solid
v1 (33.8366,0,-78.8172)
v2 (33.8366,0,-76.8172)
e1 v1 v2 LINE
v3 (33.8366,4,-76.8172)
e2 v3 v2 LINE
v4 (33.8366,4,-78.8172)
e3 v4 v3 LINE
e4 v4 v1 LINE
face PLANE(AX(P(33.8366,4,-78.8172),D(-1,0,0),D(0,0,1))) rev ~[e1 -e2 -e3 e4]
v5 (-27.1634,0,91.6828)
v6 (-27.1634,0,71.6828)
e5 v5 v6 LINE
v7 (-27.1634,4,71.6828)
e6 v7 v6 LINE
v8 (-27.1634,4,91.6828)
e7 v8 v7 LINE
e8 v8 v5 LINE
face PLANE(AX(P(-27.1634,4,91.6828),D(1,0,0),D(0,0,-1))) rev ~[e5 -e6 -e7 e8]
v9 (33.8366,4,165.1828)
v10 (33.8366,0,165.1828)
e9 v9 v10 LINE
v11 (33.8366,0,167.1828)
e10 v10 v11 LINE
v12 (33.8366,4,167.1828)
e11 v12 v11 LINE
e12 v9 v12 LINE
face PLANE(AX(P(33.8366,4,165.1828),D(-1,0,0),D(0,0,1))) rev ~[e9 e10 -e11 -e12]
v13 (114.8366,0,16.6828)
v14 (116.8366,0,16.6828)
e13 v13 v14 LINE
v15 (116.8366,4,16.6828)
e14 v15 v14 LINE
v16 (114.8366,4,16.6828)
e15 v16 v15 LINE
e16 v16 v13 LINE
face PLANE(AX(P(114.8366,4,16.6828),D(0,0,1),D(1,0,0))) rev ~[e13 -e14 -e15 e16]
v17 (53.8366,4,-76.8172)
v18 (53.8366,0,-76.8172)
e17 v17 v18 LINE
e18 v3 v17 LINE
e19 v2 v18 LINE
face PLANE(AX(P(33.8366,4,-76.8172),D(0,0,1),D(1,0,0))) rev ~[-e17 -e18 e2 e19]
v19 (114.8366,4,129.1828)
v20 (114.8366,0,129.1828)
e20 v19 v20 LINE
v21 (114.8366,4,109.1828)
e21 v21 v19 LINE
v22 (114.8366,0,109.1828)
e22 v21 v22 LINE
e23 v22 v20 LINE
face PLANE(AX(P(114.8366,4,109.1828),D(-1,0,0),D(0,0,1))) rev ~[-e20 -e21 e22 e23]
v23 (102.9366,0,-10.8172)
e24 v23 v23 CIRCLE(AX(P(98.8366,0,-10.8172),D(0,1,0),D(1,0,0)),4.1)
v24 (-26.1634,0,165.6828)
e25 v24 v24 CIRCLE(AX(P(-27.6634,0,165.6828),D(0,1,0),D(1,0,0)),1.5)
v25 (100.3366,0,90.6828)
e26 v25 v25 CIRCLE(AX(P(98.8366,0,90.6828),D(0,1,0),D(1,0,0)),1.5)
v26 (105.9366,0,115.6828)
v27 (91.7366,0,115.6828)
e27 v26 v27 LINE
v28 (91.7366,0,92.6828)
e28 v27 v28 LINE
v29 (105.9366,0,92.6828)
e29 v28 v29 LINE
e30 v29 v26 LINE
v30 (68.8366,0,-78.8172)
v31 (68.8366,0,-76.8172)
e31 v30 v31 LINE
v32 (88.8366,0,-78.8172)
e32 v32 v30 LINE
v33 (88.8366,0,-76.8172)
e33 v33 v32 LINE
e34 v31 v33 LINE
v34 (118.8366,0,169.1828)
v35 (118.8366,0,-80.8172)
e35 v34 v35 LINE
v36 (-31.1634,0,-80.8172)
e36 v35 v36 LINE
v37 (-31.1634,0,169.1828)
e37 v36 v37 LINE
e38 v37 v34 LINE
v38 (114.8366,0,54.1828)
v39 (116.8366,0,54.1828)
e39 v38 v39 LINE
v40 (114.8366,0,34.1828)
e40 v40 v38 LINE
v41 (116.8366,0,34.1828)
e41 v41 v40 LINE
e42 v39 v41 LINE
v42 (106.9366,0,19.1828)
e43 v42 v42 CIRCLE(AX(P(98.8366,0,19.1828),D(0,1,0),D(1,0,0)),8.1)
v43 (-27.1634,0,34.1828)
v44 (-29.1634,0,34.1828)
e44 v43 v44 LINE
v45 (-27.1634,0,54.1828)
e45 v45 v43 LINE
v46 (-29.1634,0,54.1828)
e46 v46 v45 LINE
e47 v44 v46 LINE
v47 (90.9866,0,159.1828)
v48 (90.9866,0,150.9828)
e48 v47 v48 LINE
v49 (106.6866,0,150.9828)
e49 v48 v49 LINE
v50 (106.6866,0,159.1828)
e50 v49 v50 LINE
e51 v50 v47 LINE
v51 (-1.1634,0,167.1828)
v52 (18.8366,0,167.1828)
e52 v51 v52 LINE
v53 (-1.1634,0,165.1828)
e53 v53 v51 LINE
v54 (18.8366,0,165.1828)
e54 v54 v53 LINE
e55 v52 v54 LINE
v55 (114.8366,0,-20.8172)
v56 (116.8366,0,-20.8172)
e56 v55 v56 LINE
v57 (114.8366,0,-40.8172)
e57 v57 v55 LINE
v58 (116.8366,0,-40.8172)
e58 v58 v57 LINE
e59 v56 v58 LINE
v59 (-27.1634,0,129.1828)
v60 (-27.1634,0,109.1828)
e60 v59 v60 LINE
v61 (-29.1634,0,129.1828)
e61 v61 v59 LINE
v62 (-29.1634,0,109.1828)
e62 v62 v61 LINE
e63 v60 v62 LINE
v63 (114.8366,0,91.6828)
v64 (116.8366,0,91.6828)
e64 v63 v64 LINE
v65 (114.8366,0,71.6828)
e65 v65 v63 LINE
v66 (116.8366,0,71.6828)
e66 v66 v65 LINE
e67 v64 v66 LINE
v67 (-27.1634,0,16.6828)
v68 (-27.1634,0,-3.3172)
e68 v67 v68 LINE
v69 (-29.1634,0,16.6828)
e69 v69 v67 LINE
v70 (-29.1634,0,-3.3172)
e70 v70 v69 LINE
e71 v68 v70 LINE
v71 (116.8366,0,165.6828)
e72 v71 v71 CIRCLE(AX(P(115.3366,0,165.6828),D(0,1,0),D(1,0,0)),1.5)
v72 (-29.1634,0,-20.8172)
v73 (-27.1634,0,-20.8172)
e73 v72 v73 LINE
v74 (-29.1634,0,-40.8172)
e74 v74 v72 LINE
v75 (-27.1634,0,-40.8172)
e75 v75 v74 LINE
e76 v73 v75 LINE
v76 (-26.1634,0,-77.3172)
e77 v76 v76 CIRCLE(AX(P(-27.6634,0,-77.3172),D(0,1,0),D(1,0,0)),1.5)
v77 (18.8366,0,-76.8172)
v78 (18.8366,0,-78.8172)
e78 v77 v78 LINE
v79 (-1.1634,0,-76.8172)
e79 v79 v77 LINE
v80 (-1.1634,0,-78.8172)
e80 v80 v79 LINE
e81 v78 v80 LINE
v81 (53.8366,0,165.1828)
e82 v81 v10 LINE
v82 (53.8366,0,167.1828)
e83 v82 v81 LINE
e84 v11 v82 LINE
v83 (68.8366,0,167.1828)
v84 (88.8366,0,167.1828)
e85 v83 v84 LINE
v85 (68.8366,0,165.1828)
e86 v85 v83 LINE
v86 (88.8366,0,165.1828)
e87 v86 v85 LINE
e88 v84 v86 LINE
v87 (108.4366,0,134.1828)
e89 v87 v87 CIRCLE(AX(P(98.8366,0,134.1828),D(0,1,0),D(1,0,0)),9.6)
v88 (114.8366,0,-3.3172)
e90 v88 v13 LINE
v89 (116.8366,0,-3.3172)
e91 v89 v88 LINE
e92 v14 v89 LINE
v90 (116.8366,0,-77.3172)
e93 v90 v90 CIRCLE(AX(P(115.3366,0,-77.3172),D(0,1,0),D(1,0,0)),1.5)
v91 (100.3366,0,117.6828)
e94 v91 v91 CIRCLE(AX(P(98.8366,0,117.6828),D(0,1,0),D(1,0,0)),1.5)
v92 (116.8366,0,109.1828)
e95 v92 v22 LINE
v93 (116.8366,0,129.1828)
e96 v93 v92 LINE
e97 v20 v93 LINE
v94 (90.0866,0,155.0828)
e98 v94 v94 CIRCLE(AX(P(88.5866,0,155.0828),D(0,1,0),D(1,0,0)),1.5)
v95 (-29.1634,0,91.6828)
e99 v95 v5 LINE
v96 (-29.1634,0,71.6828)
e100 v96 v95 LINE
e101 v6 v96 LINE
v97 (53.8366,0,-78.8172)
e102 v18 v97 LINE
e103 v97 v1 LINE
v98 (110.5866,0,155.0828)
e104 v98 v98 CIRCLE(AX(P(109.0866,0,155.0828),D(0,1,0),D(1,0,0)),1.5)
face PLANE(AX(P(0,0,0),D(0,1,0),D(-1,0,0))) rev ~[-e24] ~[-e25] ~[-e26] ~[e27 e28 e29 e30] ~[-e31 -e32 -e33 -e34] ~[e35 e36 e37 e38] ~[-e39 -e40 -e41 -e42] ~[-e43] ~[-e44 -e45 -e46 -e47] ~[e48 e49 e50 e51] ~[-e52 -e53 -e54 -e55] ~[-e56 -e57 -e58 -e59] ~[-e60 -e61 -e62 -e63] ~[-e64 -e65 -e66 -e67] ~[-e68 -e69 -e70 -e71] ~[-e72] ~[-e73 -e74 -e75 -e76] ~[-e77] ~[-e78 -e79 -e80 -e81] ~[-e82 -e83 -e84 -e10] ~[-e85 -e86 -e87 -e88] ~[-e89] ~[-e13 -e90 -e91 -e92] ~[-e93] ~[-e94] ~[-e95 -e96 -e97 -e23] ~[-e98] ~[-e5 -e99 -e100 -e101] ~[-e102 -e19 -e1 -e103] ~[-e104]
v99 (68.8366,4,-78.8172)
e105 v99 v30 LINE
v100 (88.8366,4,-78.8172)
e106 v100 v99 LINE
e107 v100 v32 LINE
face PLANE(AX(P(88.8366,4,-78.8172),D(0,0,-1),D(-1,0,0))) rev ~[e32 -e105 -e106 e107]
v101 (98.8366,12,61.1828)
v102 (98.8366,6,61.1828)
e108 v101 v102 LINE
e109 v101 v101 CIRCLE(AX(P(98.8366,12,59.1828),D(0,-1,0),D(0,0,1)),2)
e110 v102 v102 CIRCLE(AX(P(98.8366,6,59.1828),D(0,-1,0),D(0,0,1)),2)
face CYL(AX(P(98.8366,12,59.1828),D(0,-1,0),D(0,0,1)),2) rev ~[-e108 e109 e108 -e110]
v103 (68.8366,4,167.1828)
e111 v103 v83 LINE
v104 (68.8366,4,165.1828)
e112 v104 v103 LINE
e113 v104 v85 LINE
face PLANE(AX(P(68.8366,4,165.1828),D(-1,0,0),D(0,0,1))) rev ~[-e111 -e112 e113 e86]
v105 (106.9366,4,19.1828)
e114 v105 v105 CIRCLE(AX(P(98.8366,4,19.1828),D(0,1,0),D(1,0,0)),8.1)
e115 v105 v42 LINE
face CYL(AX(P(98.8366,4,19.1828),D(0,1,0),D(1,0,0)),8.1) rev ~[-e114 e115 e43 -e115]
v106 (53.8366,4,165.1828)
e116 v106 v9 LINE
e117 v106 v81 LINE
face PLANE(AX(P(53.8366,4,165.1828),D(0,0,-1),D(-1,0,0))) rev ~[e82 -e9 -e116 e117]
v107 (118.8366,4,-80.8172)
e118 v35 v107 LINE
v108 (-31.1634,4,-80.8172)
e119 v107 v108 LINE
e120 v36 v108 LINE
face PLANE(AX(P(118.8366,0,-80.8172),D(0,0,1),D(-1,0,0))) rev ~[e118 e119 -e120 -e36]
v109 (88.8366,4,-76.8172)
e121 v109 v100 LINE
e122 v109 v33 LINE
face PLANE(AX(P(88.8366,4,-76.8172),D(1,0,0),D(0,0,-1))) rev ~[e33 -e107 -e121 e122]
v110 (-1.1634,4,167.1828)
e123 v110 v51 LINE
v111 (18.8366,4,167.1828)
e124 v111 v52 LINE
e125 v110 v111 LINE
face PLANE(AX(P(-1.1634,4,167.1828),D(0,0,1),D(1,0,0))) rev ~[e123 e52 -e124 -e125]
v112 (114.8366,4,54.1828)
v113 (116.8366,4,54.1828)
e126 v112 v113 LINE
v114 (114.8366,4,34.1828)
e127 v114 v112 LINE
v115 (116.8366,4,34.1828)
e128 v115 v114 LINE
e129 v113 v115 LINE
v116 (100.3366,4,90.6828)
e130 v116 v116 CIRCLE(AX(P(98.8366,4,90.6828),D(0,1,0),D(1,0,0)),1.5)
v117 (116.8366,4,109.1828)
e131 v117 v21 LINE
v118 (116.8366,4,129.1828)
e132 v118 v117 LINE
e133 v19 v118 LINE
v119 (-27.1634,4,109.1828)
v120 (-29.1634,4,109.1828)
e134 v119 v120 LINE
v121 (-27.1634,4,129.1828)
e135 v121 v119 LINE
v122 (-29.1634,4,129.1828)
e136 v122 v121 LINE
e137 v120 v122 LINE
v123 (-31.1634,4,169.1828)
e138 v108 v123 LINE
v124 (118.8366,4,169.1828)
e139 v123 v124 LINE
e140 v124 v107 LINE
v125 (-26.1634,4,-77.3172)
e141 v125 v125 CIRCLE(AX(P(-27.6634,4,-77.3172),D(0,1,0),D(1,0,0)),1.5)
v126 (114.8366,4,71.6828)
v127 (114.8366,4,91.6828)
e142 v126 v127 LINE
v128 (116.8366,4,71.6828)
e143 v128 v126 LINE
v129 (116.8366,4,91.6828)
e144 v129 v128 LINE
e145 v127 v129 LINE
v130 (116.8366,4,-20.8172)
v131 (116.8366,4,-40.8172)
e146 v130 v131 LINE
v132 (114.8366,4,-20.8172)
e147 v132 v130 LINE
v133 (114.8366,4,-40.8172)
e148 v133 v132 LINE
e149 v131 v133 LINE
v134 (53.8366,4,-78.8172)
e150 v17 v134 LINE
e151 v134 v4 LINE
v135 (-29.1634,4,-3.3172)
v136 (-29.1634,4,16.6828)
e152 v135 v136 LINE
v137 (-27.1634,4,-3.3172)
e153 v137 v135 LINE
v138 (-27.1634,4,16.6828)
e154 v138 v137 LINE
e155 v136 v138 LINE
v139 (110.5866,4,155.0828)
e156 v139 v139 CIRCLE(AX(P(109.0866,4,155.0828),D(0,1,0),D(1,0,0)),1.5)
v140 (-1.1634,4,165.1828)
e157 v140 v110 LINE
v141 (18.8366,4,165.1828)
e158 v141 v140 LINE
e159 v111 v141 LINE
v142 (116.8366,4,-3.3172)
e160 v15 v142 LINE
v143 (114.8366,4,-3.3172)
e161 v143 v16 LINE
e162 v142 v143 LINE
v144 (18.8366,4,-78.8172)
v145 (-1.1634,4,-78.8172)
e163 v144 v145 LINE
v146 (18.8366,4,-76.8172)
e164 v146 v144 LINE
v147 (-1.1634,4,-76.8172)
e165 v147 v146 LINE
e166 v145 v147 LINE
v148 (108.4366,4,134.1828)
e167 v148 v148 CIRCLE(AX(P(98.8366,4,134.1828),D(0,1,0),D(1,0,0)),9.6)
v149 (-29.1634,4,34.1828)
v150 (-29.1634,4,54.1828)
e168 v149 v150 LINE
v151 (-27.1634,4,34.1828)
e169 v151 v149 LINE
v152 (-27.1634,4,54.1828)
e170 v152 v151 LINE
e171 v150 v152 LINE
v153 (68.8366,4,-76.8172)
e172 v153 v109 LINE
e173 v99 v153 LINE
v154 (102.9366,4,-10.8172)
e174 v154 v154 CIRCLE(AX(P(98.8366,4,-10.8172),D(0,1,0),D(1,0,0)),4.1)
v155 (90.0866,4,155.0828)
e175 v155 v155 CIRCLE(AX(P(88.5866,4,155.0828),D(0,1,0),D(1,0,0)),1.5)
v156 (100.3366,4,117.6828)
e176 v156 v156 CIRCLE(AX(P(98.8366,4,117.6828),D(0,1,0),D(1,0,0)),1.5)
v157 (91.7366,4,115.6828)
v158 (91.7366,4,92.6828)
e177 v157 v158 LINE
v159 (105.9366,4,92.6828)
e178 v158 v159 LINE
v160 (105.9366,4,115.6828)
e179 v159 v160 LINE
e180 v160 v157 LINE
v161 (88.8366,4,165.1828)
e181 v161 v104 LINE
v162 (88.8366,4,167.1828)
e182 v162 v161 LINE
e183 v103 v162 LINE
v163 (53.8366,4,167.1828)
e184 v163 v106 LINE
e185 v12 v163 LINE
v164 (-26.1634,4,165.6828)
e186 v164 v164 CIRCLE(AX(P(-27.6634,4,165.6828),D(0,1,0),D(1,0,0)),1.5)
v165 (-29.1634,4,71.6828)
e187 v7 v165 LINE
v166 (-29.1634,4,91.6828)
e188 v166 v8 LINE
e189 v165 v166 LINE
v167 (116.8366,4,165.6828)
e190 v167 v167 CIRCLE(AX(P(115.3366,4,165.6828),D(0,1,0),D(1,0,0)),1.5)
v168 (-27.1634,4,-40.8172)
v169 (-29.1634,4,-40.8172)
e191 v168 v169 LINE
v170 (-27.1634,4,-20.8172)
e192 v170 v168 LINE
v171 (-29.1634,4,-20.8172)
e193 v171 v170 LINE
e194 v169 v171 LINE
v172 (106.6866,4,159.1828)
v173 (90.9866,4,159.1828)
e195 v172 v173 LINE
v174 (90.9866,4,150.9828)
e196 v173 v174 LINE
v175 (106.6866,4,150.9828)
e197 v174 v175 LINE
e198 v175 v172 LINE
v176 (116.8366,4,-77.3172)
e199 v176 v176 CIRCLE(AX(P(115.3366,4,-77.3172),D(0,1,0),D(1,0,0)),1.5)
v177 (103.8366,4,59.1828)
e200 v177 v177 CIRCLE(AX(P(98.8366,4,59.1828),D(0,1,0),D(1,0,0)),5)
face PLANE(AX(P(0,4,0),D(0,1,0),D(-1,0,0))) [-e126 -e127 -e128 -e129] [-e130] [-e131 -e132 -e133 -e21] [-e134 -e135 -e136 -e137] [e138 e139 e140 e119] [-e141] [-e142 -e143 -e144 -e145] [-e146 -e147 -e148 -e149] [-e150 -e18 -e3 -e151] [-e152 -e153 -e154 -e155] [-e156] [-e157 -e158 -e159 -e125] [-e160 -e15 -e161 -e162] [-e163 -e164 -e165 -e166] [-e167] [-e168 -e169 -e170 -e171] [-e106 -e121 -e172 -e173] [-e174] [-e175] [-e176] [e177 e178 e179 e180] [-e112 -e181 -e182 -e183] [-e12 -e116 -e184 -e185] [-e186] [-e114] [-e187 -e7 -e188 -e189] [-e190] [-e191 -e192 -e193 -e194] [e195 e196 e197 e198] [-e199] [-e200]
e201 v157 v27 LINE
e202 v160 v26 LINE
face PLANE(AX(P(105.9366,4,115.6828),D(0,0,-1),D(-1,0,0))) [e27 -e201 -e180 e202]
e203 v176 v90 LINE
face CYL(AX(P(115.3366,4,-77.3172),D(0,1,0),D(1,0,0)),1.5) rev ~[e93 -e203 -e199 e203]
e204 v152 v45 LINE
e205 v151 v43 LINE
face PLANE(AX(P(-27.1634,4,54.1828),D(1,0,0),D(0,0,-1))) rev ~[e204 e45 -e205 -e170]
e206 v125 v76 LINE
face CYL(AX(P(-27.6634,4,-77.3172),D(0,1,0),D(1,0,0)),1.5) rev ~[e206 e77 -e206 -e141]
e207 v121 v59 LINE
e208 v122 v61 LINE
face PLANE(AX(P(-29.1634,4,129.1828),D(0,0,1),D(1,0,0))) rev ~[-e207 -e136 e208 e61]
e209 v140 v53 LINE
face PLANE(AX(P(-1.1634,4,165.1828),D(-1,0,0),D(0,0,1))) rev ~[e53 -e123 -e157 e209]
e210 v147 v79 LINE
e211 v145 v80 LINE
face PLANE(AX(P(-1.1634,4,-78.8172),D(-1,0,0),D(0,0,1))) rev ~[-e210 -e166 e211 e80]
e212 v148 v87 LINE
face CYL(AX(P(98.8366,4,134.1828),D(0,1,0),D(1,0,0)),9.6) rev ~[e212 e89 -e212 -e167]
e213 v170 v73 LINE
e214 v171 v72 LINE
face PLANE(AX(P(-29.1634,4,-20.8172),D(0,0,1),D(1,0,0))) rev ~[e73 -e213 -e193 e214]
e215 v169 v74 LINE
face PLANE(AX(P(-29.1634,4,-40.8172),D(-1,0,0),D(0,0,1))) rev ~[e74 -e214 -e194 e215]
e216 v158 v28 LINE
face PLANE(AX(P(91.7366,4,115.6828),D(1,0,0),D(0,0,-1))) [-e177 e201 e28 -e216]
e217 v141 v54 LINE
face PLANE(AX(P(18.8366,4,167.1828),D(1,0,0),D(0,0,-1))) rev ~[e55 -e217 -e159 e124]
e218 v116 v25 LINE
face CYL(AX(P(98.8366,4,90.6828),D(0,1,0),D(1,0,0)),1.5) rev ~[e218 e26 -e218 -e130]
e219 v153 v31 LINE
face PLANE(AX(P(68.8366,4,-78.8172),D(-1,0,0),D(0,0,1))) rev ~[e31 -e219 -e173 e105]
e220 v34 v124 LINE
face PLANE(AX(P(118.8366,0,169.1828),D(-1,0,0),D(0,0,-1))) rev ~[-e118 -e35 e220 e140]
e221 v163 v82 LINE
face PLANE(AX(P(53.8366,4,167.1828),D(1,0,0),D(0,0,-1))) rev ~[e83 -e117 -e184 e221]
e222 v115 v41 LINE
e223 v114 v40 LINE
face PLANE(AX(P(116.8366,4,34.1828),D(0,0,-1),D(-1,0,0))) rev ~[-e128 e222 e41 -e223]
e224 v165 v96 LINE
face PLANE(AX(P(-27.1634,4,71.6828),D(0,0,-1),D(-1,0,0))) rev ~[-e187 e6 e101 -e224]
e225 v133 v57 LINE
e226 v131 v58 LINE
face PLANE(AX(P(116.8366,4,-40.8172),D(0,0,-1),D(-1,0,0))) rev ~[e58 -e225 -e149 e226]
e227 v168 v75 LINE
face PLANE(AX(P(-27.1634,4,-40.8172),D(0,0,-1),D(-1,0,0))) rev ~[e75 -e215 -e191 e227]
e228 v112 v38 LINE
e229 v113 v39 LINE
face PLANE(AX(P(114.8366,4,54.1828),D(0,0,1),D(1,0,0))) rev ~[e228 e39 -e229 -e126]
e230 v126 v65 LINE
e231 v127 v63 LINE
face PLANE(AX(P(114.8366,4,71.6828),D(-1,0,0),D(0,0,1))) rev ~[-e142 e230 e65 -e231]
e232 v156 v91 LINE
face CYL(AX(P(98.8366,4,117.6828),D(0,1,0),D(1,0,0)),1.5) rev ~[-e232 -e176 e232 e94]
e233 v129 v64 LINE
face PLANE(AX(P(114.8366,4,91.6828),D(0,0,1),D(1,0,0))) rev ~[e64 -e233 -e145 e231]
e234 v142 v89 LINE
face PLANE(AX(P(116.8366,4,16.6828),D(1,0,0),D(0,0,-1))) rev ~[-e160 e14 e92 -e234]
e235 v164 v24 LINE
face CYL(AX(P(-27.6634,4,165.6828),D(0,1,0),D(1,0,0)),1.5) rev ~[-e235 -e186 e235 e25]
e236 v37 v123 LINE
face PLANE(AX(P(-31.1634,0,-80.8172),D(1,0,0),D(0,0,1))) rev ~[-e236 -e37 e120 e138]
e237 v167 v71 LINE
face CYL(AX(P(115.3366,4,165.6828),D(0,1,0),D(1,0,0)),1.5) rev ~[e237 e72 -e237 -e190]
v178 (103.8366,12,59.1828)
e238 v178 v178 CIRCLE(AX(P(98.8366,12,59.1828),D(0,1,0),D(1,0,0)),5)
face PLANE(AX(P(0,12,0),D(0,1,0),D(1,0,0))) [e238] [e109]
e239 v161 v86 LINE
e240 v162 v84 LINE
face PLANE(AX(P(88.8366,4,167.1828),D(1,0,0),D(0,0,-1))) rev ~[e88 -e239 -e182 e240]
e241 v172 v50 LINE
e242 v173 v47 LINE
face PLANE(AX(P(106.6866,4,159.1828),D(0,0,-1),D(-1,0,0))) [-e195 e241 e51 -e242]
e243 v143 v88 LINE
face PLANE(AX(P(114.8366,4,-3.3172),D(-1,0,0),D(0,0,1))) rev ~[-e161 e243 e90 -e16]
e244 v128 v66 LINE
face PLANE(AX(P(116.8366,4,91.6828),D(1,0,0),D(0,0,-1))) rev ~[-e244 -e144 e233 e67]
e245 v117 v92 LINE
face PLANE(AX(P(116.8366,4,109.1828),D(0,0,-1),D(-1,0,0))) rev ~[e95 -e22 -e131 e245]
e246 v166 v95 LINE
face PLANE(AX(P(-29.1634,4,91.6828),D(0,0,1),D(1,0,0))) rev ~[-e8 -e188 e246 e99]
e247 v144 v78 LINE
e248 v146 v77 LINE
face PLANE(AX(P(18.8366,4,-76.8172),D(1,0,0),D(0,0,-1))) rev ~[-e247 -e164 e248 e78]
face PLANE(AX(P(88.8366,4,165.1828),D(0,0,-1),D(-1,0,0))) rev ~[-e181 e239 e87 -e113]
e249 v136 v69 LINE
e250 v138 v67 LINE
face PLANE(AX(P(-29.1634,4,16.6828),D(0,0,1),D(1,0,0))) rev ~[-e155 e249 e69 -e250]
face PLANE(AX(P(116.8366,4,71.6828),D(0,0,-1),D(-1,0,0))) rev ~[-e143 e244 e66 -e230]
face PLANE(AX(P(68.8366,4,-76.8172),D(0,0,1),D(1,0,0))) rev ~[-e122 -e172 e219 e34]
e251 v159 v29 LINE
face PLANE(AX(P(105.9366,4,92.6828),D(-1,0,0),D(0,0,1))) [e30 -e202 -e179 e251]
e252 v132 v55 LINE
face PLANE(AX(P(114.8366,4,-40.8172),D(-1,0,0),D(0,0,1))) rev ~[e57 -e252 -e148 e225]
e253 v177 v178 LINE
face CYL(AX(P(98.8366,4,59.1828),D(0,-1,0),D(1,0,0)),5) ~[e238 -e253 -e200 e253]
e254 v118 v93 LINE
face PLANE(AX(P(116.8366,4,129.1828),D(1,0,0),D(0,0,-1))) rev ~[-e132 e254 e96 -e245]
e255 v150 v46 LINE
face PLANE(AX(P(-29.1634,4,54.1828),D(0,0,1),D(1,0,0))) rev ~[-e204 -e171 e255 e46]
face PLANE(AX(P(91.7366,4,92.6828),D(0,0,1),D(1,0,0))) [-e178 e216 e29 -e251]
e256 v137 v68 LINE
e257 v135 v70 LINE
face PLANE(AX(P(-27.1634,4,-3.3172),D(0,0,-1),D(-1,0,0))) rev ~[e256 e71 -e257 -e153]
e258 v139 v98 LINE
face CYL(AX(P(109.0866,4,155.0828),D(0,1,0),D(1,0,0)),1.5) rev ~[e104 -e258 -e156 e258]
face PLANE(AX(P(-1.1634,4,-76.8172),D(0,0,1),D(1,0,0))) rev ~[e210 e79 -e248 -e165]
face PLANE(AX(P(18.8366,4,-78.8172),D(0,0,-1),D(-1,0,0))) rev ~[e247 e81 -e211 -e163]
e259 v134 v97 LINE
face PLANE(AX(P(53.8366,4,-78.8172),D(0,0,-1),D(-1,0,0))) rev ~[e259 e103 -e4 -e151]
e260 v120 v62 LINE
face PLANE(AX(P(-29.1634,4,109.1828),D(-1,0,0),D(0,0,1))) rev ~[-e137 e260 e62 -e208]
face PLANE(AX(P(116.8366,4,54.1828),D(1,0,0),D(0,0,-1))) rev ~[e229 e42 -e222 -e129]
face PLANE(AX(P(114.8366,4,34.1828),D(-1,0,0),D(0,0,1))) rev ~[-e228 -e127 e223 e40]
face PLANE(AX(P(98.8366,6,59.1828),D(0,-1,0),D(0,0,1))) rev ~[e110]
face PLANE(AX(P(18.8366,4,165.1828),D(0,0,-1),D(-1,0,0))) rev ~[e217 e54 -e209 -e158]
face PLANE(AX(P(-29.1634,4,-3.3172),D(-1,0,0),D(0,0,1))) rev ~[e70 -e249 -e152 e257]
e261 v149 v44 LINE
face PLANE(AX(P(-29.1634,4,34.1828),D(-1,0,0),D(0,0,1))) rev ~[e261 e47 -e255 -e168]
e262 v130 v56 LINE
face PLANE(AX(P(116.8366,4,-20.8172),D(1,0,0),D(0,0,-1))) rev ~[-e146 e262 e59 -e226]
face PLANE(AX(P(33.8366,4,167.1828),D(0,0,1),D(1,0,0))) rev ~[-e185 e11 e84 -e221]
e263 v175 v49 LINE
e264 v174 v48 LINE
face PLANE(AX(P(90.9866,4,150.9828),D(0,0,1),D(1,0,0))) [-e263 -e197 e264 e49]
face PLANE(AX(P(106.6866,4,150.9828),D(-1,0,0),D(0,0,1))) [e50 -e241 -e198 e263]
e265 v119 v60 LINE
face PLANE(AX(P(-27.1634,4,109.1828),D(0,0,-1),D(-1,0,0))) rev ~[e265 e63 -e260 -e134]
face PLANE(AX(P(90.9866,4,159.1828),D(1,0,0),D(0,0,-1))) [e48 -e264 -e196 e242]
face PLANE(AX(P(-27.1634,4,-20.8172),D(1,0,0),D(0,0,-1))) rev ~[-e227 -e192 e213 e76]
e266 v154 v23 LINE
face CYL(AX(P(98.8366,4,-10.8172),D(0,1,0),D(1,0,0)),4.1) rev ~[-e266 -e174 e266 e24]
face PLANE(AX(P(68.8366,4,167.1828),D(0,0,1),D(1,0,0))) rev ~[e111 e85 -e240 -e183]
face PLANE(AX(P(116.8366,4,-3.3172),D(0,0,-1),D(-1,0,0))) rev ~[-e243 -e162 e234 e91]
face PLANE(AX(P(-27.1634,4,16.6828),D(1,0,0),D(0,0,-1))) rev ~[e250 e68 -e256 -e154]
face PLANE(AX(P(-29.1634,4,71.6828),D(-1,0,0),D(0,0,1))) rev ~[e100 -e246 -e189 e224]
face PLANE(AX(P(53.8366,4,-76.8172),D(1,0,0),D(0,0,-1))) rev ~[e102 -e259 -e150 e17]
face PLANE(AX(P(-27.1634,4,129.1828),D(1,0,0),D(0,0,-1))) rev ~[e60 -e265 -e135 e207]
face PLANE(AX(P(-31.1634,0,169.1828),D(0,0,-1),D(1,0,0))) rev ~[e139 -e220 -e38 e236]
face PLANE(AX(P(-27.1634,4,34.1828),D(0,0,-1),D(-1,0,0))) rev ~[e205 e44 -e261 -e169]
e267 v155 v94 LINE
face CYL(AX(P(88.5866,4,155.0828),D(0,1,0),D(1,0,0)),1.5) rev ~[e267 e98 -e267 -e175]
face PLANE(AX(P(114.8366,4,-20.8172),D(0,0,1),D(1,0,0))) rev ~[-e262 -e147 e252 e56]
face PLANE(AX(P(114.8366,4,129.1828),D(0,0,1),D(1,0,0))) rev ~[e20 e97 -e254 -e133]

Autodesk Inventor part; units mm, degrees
ref_plane "YZ Plane" through (0, 0, 0) normal (1, 0, 0) x (0, 1, 0)
ref_plane "XZ Plane" through (0, 0, 0) normal (0, 1, 0) x (-1, 0, 0)
ref_plane "XY Plane" through (0, 0, 0) normal (0, 0, 1) x (1, 0, 0)
sketch "Sketch1" plane through (0, 0, 0) normal (0, 1, 0) x (-1, 0, 0)
  line L0 (31.1634, 169.1828) -> (-118.8366, 169.1828)
  line L1 (-118.8366, 169.1828) -> (-118.8366, -80.8172)
  line L2 (-118.8366, -80.8172) -> (31.1634, -80.8172)
  line L3 (31.1634, -80.8172) -> (31.1634, 169.1828)
  point P0 (0, 0)
  dimension "d0" = 250
  dimension "d1" = 150
extrude "Extrusion1" add sketch "Sketch1" along normal blind 4
fillet "Fillet1" [suppressed]
sketch "Sketch2" plane through (0, 4, 0) normal (0, 1, 0) x (1, 0, 0)
  line L0 (-31.1634, 80.8172) -> (-31.1634, -169.1828) projected
  line L1 (-31.1634, -169.1828) -> (118.8366, -169.1828) projected
  line L2 (118.8366, -169.1828) -> (118.8366, 80.8172) projected
  line L3 (118.8366, 80.8172) -> (-31.1634, 80.8172) projected
  arc A0 (-21.1634, 76.8172) -> (-27.1634, 70.8172) centre (-21.1634, 70.8172) ccw
  arc A1 (114.8366, 70.8172) -> (108.8366, 76.8172) centre (108.8366, 70.8172) ccw
  arc A2 (108.8366, -165.1828) -> (114.8366, -159.1828) centre (108.8366, -159.1828) ccw
  arc A3 (-27.1634, -159.1828) -> (-21.1634, -165.1828) centre (-21.1634, -159.1828) ccw
  line L4 (108.8366, -165.1828) -> (98.8366, -165.1828)
  line L5 (-11.1634, -165.1828) -> (-21.1634, -165.1828)
  line L6 (-27.1634, -159.1828) -> (-27.1634, -149.1828)
  line L7 (-27.1634, 60.8172) -> (-27.1634, 70.8172)
  line L8 (-21.1634, 76.8172) -> (-11.1634, 76.8172)
  line L9 (98.8366, 76.8172) -> (108.8366, 76.8172)
  line L10 (114.8366, 70.8172) -> (114.8366, 60.8172)
  line L11 (114.8366, -149.1828) -> (114.8366, -159.1828)
  line L12 (-11.1634, -169.1828) -> (-11.1634, -165.1828)
  line L13 (-11.1634, 76.8172) -> (-11.1634, 80.8172)
  line L14 (-31.1634, 60.8172) -> (-27.1634, 60.8172)
  line L15 (114.8366, 60.8172) -> (118.8366, 60.8172)
  line L16 (98.8366, -169.1828) -> (98.8366, -165.1828)
  line L17 (98.8366, 76.8172) -> (98.8366, 80.8172)
  line L18 (-31.1634, -149.1828) -> (-27.1634, -149.1828)
  line L19 (114.8366, -149.1828) -> (118.8366, -149.1828)
  point P0 (0, 0)
  point P1 (114.8366, -154.1828)
  dimension "d12" = 4
  dimension "d13" = 20
  dimension "d14" = 4
extrude "Extrusion2" [suppressed]
sketch "Sketch3" plane through (0, 4, 0) normal (0, 1, 0) x (1, 0, 0)
  line L0 (-29.1634, -129.1828) -> (-27.1634, -129.1828)
  line L1 (-27.1634, -129.1828) -> (-27.1634, -109.1828)
  line L2 (-27.1634, -109.1828) -> (-29.1634, -109.1828)
  line L3 (-29.1634, -109.1828) -> (-29.1634, -129.1828)
  line L4 (-31.1634, 80.8172) -> (-31.1634, -169.1828) projected
  line L5 (-29.1634, -71.6828) -> (-29.1634, -91.6828)
  line L6 (-29.1634, -91.6828) -> (-27.1634, -91.6828)
  line L7 (-27.1634, -91.6828) -> (-27.1634, -71.6828)
  line L8 (-27.1634, -71.6828) -> (-29.1634, -71.6828)
  line L9 (-29.1634, -34.1828) -> (-29.1634, -54.1828)
  line L10 (-29.1634, -54.1828) -> (-27.1634, -54.1828)
  line L11 (-27.1634, -54.1828) -> (-27.1634, -34.1828)
  line L12 (-27.1634, -34.1828) -> (-29.1634, -34.1828)
  line L13 (-29.1634, 3.3172) -> (-29.1634, -16.6828)
  line L14 (-29.1634, -16.6828) -> (-27.1634, -16.6828)
  line L15 (-27.1634, -16.6828) -> (-27.1634, 3.3172)
  line L16 (-27.1634, 3.3172) -> (-29.1634, 3.3172)
  line L17 (-29.1634, 40.8172) -> (-29.1634, 20.8172)
  line L18 (-29.1634, 20.8172) -> (-27.1634, 20.8172)
  line L19 (-27.1634, 20.8172) -> (-27.1634, 40.8172)
  line L20 (-27.1634, 40.8172) -> (-29.1634, 40.8172)
  line L21 (-31.1634, -169.1828) -> (118.8366, -169.1828) projected
  line L22 (114.8366, -129.1828) -> (116.8366, -129.1828)
  line L23 (116.8366, -129.1828) -> (116.8366, -109.1828)
  line L24 (116.8366, -109.1828) -> (114.8366, -109.1828)
  line L25 (114.8366, -109.1828) -> (114.8366, -129.1828)
  line L26 (114.8366, -91.6828) -> (116.8366, -91.6828)
  line L27 (114.8366, -71.6828) -> (114.8366, -91.6828)
  line L28 (116.8366, -71.6828) -> (114.8366, -71.6828)
  line L29 (114.8366, -54.1828) -> (116.8366, -54.1828)
  line L30 (116.8366, -34.1828) -> (114.8366, -34.1828)
  line L31 (114.8366, -34.1828) -> (114.8366, -54.1828)
  line L32 (116.8366, -54.1828) -> (116.8366, -34.1828)
  line L33 (116.8366, -91.6828) -> (116.8366, -71.6828)
  line L34 (114.8366, -16.6828) -> (116.8366, -16.6828)
  line L35 (116.8366, -16.6828) -> (116.8366, 3.3172)
  line L36 (114.8366, 3.3172) -> (114.8366, -16.6828)
  line L37 (116.8366, 3.3172) -> (114.8366, 3.3172)
  line L38 (114.8366, 20.8172) -> (116.8366, 20.8172)
  line L39 (114.8366, 40.8172) -> (114.8366, 20.8172)
  line L40 (116.8366, 40.8172) -> (114.8366, 40.8172)
  line L41 (116.8366, 20.8172) -> (116.8366, 40.8172)
  line L42 (-1.1634, -167.1828) -> (18.8366, -167.1828)
  line L43 (18.8366, -167.1828) -> (18.8366, -165.1828)
  line L44 (18.8366, -165.1828) -> (-1.1634, -165.1828)
  line L45 (-1.1634, -165.1828) -> (-1.1634, -167.1828)
  line L46 (53.8366, -167.1828) -> (53.8366, -165.1828)
  line L47 (53.8366, -165.1828) -> (33.8366, -165.1828)
  line L48 (33.8366, -167.1828) -> (53.8366, -167.1828)
  line L49 (33.8366, -165.1828) -> (33.8366, -167.1828)
  line L50 (88.8366, -167.1828) -> (88.8366, -165.1828)
  line L51 (88.8366, -165.1828) -> (68.8366, -165.1828)
  line L52 (68.8366, -167.1828) -> (88.8366, -167.1828)
  line L53 (68.8366, -165.1828) -> (68.8366, -167.1828)
  line L54 (18.8366, 76.8172) -> (18.8366, 78.8172)
  line L55 (18.8366, 78.8172) -> (-1.1634, 78.8172)
  line L56 (-1.1634, 76.8172) -> (18.8366, 76.8172)
  line L57 (-1.1634, 78.8172) -> (-1.1634, 76.8172)
  line L58 (53.8366, 76.8172) -> (53.8366, 78.8172)
  line L59 (53.8366, 78.8172) -> (33.8366, 78.8172)
  line L60 (33.8366, 76.8172) -> (53.8366, 76.8172)
  line L61 (33.8366, 78.8172) -> (33.8366, 76.8172)
  line L62 (88.8366, 76.8172) -> (88.8366, 78.8172)
  line L63 (88.8366, 78.8172) -> (68.8366, 78.8172)
  line L64 (68.8366, 76.8172) -> (88.8366, 76.8172)
  line L65 (68.8366, 78.8172) -> (68.8366, 76.8172)
  point P0 (0, 0)
  dimension "d15" = 2
  dimension "d16" = 20
  dimension "d17" = 2
  dimension "d21" = 37.5
  dimension "d28" = 144
  dimension "d33" = 20
  dimension "d34" = 2
  dimension "d35" = 2
  dimension "d39" = 35
  dimension "d42" = 244
extrude "Extrusion3" cut sketch "Sketch3" against normal through all
sketch "Sketch4" plane through (0, 4, 0) normal (0, 1, 0) x (1, 0, 0)
  circle A0 centre (98.8366, -134.1828) radius 9.6
  line L0 (118.8366, -169.1828) -> (118.8366, 80.8172) projected
  line L1 (-31.1634, -169.1828) -> (118.8366, -169.1828) projected
  line L2 (91.7366, -92.6828) -> (105.9366, -92.6828)
  line L3 (105.9366, -92.6828) -> (105.9366, -115.6828)
  line L4 (105.9366, -115.6828) -> (91.7366, -115.6828)
  line L5 (91.7366, -115.6828) -> (91.7366, -92.6828)
  circle A1 centre (98.8366, -19.1828) radius 8.1
  line L6 (-31.1634, 80.8172) -> (-31.1634, -169.1828) projected
  circle A2 centre (98.8366, 10.8172) radius 4.1
  line L7 (90.9866, -150.9828) -> (106.6866, -150.9828)
  line L8 (106.6866, -150.9828) -> (106.6866, -159.1828)
  line L9 (106.6866, -159.1828) -> (90.9866, -159.1828)
  line L10 (90.9866, -159.1828) -> (90.9866, -150.9828)
  circle A3 centre (98.8366, -117.6828) radius 1.5
  circle A4 centre (98.8366, -90.6828) radius 1.5
  circle A5 centre (109.0866, -155.0828) radius 1.5
  circle A6 centre (88.5866, -155.0828) radius 1.5
  point P0 (0, 0)
  point P1 (105.9366, -104.1828)
  point P2 (98.8366, -115.6828)
  point P3 (91.7366, -104.1828)
  point P4 (98.8366, -150.9828)
  dimension "d47" = 19.2
  dimension "d50" = 20
  dimension "d51" = 35
  dimension "d52" = 14.2
  dimension "d53" = 23
  dimension "d54" = 30
  dimension "d56" = 0
  dimension "d57" = 16.2
  dimension "d59" = 130
  dimension "d60" = 150
  dimension "d61" = 8.2
  dimension "d62" = 30
  dimension "d73" = 15.7
  dimension "d74" = 8.2
  dimension "d75" = 0
  dimension "d76" = 10
  dimension "d89" = 3
  dimension "d90" = 3
  dimension "d91" = 27
  dimension "d92" = 13.5
  dimension "d93" = 3
  dimension "d94" = 3
  dimension "d95" = 20.5
  dimension "d96" = 10.25
extrude "Extrusion4" cut sketch "Sketch4" against normal blind 10
sketch "Sketch5" plane through (0, 4, 0) normal (0, 1, 0) x (1, 0, 0)
  circle A0 centre (98.8366, -59.1828) radius 5
  circle A1 centre (98.8366, -19.1828) radius 8.1 projected
  point P0 (0, 0)
  dimension "d63" = 10
  dimension "d77" = 40
extrude "Extrusion5" add sketch "Sketch5" along normal blind 8 contours A0
sketch "Sketch6" plane through (98.8366, 12, 59.1828) normal (0, 1, 0) x (1, 0, 0)
  circle A0 centre (0, 0) radius 5 projected
  point P0 (-98.8366, 59.1828)
hole "Hole1" at (98.8366, 12, 59.1828) direction (0, -1, 0) diameter 4 depth 6
sketch "Sketch7" plane through (0, 4, 0) normal (0, 1, 0) x (1, 0, 0)
  circle A0 centre (-27.6634, 77.3172) radius 1.5
  line L0 (118.8366, 80.8172) -> (-31.1634, 80.8172) projected
  line L1 (-31.1634, 80.8172) -> (-31.1634, -169.1828) projected
  point P0 (0, 0)
  dimension "d78" = 3
  dimension "d79" = 3.5
  dimension "d80" = 3.5
extrude "Extrusion6" cut sketch "Sketch7" against normal blind 10
pattern_linear "Rectangular Pattern1" count 2 spacing 243 along (0, 0, 1) count 2 spacing 143 along (1, 0, 0) of "Extrusion6"
equation "\"d96\" = 0.5 * d95"
properties part number "Enclosure_6"
